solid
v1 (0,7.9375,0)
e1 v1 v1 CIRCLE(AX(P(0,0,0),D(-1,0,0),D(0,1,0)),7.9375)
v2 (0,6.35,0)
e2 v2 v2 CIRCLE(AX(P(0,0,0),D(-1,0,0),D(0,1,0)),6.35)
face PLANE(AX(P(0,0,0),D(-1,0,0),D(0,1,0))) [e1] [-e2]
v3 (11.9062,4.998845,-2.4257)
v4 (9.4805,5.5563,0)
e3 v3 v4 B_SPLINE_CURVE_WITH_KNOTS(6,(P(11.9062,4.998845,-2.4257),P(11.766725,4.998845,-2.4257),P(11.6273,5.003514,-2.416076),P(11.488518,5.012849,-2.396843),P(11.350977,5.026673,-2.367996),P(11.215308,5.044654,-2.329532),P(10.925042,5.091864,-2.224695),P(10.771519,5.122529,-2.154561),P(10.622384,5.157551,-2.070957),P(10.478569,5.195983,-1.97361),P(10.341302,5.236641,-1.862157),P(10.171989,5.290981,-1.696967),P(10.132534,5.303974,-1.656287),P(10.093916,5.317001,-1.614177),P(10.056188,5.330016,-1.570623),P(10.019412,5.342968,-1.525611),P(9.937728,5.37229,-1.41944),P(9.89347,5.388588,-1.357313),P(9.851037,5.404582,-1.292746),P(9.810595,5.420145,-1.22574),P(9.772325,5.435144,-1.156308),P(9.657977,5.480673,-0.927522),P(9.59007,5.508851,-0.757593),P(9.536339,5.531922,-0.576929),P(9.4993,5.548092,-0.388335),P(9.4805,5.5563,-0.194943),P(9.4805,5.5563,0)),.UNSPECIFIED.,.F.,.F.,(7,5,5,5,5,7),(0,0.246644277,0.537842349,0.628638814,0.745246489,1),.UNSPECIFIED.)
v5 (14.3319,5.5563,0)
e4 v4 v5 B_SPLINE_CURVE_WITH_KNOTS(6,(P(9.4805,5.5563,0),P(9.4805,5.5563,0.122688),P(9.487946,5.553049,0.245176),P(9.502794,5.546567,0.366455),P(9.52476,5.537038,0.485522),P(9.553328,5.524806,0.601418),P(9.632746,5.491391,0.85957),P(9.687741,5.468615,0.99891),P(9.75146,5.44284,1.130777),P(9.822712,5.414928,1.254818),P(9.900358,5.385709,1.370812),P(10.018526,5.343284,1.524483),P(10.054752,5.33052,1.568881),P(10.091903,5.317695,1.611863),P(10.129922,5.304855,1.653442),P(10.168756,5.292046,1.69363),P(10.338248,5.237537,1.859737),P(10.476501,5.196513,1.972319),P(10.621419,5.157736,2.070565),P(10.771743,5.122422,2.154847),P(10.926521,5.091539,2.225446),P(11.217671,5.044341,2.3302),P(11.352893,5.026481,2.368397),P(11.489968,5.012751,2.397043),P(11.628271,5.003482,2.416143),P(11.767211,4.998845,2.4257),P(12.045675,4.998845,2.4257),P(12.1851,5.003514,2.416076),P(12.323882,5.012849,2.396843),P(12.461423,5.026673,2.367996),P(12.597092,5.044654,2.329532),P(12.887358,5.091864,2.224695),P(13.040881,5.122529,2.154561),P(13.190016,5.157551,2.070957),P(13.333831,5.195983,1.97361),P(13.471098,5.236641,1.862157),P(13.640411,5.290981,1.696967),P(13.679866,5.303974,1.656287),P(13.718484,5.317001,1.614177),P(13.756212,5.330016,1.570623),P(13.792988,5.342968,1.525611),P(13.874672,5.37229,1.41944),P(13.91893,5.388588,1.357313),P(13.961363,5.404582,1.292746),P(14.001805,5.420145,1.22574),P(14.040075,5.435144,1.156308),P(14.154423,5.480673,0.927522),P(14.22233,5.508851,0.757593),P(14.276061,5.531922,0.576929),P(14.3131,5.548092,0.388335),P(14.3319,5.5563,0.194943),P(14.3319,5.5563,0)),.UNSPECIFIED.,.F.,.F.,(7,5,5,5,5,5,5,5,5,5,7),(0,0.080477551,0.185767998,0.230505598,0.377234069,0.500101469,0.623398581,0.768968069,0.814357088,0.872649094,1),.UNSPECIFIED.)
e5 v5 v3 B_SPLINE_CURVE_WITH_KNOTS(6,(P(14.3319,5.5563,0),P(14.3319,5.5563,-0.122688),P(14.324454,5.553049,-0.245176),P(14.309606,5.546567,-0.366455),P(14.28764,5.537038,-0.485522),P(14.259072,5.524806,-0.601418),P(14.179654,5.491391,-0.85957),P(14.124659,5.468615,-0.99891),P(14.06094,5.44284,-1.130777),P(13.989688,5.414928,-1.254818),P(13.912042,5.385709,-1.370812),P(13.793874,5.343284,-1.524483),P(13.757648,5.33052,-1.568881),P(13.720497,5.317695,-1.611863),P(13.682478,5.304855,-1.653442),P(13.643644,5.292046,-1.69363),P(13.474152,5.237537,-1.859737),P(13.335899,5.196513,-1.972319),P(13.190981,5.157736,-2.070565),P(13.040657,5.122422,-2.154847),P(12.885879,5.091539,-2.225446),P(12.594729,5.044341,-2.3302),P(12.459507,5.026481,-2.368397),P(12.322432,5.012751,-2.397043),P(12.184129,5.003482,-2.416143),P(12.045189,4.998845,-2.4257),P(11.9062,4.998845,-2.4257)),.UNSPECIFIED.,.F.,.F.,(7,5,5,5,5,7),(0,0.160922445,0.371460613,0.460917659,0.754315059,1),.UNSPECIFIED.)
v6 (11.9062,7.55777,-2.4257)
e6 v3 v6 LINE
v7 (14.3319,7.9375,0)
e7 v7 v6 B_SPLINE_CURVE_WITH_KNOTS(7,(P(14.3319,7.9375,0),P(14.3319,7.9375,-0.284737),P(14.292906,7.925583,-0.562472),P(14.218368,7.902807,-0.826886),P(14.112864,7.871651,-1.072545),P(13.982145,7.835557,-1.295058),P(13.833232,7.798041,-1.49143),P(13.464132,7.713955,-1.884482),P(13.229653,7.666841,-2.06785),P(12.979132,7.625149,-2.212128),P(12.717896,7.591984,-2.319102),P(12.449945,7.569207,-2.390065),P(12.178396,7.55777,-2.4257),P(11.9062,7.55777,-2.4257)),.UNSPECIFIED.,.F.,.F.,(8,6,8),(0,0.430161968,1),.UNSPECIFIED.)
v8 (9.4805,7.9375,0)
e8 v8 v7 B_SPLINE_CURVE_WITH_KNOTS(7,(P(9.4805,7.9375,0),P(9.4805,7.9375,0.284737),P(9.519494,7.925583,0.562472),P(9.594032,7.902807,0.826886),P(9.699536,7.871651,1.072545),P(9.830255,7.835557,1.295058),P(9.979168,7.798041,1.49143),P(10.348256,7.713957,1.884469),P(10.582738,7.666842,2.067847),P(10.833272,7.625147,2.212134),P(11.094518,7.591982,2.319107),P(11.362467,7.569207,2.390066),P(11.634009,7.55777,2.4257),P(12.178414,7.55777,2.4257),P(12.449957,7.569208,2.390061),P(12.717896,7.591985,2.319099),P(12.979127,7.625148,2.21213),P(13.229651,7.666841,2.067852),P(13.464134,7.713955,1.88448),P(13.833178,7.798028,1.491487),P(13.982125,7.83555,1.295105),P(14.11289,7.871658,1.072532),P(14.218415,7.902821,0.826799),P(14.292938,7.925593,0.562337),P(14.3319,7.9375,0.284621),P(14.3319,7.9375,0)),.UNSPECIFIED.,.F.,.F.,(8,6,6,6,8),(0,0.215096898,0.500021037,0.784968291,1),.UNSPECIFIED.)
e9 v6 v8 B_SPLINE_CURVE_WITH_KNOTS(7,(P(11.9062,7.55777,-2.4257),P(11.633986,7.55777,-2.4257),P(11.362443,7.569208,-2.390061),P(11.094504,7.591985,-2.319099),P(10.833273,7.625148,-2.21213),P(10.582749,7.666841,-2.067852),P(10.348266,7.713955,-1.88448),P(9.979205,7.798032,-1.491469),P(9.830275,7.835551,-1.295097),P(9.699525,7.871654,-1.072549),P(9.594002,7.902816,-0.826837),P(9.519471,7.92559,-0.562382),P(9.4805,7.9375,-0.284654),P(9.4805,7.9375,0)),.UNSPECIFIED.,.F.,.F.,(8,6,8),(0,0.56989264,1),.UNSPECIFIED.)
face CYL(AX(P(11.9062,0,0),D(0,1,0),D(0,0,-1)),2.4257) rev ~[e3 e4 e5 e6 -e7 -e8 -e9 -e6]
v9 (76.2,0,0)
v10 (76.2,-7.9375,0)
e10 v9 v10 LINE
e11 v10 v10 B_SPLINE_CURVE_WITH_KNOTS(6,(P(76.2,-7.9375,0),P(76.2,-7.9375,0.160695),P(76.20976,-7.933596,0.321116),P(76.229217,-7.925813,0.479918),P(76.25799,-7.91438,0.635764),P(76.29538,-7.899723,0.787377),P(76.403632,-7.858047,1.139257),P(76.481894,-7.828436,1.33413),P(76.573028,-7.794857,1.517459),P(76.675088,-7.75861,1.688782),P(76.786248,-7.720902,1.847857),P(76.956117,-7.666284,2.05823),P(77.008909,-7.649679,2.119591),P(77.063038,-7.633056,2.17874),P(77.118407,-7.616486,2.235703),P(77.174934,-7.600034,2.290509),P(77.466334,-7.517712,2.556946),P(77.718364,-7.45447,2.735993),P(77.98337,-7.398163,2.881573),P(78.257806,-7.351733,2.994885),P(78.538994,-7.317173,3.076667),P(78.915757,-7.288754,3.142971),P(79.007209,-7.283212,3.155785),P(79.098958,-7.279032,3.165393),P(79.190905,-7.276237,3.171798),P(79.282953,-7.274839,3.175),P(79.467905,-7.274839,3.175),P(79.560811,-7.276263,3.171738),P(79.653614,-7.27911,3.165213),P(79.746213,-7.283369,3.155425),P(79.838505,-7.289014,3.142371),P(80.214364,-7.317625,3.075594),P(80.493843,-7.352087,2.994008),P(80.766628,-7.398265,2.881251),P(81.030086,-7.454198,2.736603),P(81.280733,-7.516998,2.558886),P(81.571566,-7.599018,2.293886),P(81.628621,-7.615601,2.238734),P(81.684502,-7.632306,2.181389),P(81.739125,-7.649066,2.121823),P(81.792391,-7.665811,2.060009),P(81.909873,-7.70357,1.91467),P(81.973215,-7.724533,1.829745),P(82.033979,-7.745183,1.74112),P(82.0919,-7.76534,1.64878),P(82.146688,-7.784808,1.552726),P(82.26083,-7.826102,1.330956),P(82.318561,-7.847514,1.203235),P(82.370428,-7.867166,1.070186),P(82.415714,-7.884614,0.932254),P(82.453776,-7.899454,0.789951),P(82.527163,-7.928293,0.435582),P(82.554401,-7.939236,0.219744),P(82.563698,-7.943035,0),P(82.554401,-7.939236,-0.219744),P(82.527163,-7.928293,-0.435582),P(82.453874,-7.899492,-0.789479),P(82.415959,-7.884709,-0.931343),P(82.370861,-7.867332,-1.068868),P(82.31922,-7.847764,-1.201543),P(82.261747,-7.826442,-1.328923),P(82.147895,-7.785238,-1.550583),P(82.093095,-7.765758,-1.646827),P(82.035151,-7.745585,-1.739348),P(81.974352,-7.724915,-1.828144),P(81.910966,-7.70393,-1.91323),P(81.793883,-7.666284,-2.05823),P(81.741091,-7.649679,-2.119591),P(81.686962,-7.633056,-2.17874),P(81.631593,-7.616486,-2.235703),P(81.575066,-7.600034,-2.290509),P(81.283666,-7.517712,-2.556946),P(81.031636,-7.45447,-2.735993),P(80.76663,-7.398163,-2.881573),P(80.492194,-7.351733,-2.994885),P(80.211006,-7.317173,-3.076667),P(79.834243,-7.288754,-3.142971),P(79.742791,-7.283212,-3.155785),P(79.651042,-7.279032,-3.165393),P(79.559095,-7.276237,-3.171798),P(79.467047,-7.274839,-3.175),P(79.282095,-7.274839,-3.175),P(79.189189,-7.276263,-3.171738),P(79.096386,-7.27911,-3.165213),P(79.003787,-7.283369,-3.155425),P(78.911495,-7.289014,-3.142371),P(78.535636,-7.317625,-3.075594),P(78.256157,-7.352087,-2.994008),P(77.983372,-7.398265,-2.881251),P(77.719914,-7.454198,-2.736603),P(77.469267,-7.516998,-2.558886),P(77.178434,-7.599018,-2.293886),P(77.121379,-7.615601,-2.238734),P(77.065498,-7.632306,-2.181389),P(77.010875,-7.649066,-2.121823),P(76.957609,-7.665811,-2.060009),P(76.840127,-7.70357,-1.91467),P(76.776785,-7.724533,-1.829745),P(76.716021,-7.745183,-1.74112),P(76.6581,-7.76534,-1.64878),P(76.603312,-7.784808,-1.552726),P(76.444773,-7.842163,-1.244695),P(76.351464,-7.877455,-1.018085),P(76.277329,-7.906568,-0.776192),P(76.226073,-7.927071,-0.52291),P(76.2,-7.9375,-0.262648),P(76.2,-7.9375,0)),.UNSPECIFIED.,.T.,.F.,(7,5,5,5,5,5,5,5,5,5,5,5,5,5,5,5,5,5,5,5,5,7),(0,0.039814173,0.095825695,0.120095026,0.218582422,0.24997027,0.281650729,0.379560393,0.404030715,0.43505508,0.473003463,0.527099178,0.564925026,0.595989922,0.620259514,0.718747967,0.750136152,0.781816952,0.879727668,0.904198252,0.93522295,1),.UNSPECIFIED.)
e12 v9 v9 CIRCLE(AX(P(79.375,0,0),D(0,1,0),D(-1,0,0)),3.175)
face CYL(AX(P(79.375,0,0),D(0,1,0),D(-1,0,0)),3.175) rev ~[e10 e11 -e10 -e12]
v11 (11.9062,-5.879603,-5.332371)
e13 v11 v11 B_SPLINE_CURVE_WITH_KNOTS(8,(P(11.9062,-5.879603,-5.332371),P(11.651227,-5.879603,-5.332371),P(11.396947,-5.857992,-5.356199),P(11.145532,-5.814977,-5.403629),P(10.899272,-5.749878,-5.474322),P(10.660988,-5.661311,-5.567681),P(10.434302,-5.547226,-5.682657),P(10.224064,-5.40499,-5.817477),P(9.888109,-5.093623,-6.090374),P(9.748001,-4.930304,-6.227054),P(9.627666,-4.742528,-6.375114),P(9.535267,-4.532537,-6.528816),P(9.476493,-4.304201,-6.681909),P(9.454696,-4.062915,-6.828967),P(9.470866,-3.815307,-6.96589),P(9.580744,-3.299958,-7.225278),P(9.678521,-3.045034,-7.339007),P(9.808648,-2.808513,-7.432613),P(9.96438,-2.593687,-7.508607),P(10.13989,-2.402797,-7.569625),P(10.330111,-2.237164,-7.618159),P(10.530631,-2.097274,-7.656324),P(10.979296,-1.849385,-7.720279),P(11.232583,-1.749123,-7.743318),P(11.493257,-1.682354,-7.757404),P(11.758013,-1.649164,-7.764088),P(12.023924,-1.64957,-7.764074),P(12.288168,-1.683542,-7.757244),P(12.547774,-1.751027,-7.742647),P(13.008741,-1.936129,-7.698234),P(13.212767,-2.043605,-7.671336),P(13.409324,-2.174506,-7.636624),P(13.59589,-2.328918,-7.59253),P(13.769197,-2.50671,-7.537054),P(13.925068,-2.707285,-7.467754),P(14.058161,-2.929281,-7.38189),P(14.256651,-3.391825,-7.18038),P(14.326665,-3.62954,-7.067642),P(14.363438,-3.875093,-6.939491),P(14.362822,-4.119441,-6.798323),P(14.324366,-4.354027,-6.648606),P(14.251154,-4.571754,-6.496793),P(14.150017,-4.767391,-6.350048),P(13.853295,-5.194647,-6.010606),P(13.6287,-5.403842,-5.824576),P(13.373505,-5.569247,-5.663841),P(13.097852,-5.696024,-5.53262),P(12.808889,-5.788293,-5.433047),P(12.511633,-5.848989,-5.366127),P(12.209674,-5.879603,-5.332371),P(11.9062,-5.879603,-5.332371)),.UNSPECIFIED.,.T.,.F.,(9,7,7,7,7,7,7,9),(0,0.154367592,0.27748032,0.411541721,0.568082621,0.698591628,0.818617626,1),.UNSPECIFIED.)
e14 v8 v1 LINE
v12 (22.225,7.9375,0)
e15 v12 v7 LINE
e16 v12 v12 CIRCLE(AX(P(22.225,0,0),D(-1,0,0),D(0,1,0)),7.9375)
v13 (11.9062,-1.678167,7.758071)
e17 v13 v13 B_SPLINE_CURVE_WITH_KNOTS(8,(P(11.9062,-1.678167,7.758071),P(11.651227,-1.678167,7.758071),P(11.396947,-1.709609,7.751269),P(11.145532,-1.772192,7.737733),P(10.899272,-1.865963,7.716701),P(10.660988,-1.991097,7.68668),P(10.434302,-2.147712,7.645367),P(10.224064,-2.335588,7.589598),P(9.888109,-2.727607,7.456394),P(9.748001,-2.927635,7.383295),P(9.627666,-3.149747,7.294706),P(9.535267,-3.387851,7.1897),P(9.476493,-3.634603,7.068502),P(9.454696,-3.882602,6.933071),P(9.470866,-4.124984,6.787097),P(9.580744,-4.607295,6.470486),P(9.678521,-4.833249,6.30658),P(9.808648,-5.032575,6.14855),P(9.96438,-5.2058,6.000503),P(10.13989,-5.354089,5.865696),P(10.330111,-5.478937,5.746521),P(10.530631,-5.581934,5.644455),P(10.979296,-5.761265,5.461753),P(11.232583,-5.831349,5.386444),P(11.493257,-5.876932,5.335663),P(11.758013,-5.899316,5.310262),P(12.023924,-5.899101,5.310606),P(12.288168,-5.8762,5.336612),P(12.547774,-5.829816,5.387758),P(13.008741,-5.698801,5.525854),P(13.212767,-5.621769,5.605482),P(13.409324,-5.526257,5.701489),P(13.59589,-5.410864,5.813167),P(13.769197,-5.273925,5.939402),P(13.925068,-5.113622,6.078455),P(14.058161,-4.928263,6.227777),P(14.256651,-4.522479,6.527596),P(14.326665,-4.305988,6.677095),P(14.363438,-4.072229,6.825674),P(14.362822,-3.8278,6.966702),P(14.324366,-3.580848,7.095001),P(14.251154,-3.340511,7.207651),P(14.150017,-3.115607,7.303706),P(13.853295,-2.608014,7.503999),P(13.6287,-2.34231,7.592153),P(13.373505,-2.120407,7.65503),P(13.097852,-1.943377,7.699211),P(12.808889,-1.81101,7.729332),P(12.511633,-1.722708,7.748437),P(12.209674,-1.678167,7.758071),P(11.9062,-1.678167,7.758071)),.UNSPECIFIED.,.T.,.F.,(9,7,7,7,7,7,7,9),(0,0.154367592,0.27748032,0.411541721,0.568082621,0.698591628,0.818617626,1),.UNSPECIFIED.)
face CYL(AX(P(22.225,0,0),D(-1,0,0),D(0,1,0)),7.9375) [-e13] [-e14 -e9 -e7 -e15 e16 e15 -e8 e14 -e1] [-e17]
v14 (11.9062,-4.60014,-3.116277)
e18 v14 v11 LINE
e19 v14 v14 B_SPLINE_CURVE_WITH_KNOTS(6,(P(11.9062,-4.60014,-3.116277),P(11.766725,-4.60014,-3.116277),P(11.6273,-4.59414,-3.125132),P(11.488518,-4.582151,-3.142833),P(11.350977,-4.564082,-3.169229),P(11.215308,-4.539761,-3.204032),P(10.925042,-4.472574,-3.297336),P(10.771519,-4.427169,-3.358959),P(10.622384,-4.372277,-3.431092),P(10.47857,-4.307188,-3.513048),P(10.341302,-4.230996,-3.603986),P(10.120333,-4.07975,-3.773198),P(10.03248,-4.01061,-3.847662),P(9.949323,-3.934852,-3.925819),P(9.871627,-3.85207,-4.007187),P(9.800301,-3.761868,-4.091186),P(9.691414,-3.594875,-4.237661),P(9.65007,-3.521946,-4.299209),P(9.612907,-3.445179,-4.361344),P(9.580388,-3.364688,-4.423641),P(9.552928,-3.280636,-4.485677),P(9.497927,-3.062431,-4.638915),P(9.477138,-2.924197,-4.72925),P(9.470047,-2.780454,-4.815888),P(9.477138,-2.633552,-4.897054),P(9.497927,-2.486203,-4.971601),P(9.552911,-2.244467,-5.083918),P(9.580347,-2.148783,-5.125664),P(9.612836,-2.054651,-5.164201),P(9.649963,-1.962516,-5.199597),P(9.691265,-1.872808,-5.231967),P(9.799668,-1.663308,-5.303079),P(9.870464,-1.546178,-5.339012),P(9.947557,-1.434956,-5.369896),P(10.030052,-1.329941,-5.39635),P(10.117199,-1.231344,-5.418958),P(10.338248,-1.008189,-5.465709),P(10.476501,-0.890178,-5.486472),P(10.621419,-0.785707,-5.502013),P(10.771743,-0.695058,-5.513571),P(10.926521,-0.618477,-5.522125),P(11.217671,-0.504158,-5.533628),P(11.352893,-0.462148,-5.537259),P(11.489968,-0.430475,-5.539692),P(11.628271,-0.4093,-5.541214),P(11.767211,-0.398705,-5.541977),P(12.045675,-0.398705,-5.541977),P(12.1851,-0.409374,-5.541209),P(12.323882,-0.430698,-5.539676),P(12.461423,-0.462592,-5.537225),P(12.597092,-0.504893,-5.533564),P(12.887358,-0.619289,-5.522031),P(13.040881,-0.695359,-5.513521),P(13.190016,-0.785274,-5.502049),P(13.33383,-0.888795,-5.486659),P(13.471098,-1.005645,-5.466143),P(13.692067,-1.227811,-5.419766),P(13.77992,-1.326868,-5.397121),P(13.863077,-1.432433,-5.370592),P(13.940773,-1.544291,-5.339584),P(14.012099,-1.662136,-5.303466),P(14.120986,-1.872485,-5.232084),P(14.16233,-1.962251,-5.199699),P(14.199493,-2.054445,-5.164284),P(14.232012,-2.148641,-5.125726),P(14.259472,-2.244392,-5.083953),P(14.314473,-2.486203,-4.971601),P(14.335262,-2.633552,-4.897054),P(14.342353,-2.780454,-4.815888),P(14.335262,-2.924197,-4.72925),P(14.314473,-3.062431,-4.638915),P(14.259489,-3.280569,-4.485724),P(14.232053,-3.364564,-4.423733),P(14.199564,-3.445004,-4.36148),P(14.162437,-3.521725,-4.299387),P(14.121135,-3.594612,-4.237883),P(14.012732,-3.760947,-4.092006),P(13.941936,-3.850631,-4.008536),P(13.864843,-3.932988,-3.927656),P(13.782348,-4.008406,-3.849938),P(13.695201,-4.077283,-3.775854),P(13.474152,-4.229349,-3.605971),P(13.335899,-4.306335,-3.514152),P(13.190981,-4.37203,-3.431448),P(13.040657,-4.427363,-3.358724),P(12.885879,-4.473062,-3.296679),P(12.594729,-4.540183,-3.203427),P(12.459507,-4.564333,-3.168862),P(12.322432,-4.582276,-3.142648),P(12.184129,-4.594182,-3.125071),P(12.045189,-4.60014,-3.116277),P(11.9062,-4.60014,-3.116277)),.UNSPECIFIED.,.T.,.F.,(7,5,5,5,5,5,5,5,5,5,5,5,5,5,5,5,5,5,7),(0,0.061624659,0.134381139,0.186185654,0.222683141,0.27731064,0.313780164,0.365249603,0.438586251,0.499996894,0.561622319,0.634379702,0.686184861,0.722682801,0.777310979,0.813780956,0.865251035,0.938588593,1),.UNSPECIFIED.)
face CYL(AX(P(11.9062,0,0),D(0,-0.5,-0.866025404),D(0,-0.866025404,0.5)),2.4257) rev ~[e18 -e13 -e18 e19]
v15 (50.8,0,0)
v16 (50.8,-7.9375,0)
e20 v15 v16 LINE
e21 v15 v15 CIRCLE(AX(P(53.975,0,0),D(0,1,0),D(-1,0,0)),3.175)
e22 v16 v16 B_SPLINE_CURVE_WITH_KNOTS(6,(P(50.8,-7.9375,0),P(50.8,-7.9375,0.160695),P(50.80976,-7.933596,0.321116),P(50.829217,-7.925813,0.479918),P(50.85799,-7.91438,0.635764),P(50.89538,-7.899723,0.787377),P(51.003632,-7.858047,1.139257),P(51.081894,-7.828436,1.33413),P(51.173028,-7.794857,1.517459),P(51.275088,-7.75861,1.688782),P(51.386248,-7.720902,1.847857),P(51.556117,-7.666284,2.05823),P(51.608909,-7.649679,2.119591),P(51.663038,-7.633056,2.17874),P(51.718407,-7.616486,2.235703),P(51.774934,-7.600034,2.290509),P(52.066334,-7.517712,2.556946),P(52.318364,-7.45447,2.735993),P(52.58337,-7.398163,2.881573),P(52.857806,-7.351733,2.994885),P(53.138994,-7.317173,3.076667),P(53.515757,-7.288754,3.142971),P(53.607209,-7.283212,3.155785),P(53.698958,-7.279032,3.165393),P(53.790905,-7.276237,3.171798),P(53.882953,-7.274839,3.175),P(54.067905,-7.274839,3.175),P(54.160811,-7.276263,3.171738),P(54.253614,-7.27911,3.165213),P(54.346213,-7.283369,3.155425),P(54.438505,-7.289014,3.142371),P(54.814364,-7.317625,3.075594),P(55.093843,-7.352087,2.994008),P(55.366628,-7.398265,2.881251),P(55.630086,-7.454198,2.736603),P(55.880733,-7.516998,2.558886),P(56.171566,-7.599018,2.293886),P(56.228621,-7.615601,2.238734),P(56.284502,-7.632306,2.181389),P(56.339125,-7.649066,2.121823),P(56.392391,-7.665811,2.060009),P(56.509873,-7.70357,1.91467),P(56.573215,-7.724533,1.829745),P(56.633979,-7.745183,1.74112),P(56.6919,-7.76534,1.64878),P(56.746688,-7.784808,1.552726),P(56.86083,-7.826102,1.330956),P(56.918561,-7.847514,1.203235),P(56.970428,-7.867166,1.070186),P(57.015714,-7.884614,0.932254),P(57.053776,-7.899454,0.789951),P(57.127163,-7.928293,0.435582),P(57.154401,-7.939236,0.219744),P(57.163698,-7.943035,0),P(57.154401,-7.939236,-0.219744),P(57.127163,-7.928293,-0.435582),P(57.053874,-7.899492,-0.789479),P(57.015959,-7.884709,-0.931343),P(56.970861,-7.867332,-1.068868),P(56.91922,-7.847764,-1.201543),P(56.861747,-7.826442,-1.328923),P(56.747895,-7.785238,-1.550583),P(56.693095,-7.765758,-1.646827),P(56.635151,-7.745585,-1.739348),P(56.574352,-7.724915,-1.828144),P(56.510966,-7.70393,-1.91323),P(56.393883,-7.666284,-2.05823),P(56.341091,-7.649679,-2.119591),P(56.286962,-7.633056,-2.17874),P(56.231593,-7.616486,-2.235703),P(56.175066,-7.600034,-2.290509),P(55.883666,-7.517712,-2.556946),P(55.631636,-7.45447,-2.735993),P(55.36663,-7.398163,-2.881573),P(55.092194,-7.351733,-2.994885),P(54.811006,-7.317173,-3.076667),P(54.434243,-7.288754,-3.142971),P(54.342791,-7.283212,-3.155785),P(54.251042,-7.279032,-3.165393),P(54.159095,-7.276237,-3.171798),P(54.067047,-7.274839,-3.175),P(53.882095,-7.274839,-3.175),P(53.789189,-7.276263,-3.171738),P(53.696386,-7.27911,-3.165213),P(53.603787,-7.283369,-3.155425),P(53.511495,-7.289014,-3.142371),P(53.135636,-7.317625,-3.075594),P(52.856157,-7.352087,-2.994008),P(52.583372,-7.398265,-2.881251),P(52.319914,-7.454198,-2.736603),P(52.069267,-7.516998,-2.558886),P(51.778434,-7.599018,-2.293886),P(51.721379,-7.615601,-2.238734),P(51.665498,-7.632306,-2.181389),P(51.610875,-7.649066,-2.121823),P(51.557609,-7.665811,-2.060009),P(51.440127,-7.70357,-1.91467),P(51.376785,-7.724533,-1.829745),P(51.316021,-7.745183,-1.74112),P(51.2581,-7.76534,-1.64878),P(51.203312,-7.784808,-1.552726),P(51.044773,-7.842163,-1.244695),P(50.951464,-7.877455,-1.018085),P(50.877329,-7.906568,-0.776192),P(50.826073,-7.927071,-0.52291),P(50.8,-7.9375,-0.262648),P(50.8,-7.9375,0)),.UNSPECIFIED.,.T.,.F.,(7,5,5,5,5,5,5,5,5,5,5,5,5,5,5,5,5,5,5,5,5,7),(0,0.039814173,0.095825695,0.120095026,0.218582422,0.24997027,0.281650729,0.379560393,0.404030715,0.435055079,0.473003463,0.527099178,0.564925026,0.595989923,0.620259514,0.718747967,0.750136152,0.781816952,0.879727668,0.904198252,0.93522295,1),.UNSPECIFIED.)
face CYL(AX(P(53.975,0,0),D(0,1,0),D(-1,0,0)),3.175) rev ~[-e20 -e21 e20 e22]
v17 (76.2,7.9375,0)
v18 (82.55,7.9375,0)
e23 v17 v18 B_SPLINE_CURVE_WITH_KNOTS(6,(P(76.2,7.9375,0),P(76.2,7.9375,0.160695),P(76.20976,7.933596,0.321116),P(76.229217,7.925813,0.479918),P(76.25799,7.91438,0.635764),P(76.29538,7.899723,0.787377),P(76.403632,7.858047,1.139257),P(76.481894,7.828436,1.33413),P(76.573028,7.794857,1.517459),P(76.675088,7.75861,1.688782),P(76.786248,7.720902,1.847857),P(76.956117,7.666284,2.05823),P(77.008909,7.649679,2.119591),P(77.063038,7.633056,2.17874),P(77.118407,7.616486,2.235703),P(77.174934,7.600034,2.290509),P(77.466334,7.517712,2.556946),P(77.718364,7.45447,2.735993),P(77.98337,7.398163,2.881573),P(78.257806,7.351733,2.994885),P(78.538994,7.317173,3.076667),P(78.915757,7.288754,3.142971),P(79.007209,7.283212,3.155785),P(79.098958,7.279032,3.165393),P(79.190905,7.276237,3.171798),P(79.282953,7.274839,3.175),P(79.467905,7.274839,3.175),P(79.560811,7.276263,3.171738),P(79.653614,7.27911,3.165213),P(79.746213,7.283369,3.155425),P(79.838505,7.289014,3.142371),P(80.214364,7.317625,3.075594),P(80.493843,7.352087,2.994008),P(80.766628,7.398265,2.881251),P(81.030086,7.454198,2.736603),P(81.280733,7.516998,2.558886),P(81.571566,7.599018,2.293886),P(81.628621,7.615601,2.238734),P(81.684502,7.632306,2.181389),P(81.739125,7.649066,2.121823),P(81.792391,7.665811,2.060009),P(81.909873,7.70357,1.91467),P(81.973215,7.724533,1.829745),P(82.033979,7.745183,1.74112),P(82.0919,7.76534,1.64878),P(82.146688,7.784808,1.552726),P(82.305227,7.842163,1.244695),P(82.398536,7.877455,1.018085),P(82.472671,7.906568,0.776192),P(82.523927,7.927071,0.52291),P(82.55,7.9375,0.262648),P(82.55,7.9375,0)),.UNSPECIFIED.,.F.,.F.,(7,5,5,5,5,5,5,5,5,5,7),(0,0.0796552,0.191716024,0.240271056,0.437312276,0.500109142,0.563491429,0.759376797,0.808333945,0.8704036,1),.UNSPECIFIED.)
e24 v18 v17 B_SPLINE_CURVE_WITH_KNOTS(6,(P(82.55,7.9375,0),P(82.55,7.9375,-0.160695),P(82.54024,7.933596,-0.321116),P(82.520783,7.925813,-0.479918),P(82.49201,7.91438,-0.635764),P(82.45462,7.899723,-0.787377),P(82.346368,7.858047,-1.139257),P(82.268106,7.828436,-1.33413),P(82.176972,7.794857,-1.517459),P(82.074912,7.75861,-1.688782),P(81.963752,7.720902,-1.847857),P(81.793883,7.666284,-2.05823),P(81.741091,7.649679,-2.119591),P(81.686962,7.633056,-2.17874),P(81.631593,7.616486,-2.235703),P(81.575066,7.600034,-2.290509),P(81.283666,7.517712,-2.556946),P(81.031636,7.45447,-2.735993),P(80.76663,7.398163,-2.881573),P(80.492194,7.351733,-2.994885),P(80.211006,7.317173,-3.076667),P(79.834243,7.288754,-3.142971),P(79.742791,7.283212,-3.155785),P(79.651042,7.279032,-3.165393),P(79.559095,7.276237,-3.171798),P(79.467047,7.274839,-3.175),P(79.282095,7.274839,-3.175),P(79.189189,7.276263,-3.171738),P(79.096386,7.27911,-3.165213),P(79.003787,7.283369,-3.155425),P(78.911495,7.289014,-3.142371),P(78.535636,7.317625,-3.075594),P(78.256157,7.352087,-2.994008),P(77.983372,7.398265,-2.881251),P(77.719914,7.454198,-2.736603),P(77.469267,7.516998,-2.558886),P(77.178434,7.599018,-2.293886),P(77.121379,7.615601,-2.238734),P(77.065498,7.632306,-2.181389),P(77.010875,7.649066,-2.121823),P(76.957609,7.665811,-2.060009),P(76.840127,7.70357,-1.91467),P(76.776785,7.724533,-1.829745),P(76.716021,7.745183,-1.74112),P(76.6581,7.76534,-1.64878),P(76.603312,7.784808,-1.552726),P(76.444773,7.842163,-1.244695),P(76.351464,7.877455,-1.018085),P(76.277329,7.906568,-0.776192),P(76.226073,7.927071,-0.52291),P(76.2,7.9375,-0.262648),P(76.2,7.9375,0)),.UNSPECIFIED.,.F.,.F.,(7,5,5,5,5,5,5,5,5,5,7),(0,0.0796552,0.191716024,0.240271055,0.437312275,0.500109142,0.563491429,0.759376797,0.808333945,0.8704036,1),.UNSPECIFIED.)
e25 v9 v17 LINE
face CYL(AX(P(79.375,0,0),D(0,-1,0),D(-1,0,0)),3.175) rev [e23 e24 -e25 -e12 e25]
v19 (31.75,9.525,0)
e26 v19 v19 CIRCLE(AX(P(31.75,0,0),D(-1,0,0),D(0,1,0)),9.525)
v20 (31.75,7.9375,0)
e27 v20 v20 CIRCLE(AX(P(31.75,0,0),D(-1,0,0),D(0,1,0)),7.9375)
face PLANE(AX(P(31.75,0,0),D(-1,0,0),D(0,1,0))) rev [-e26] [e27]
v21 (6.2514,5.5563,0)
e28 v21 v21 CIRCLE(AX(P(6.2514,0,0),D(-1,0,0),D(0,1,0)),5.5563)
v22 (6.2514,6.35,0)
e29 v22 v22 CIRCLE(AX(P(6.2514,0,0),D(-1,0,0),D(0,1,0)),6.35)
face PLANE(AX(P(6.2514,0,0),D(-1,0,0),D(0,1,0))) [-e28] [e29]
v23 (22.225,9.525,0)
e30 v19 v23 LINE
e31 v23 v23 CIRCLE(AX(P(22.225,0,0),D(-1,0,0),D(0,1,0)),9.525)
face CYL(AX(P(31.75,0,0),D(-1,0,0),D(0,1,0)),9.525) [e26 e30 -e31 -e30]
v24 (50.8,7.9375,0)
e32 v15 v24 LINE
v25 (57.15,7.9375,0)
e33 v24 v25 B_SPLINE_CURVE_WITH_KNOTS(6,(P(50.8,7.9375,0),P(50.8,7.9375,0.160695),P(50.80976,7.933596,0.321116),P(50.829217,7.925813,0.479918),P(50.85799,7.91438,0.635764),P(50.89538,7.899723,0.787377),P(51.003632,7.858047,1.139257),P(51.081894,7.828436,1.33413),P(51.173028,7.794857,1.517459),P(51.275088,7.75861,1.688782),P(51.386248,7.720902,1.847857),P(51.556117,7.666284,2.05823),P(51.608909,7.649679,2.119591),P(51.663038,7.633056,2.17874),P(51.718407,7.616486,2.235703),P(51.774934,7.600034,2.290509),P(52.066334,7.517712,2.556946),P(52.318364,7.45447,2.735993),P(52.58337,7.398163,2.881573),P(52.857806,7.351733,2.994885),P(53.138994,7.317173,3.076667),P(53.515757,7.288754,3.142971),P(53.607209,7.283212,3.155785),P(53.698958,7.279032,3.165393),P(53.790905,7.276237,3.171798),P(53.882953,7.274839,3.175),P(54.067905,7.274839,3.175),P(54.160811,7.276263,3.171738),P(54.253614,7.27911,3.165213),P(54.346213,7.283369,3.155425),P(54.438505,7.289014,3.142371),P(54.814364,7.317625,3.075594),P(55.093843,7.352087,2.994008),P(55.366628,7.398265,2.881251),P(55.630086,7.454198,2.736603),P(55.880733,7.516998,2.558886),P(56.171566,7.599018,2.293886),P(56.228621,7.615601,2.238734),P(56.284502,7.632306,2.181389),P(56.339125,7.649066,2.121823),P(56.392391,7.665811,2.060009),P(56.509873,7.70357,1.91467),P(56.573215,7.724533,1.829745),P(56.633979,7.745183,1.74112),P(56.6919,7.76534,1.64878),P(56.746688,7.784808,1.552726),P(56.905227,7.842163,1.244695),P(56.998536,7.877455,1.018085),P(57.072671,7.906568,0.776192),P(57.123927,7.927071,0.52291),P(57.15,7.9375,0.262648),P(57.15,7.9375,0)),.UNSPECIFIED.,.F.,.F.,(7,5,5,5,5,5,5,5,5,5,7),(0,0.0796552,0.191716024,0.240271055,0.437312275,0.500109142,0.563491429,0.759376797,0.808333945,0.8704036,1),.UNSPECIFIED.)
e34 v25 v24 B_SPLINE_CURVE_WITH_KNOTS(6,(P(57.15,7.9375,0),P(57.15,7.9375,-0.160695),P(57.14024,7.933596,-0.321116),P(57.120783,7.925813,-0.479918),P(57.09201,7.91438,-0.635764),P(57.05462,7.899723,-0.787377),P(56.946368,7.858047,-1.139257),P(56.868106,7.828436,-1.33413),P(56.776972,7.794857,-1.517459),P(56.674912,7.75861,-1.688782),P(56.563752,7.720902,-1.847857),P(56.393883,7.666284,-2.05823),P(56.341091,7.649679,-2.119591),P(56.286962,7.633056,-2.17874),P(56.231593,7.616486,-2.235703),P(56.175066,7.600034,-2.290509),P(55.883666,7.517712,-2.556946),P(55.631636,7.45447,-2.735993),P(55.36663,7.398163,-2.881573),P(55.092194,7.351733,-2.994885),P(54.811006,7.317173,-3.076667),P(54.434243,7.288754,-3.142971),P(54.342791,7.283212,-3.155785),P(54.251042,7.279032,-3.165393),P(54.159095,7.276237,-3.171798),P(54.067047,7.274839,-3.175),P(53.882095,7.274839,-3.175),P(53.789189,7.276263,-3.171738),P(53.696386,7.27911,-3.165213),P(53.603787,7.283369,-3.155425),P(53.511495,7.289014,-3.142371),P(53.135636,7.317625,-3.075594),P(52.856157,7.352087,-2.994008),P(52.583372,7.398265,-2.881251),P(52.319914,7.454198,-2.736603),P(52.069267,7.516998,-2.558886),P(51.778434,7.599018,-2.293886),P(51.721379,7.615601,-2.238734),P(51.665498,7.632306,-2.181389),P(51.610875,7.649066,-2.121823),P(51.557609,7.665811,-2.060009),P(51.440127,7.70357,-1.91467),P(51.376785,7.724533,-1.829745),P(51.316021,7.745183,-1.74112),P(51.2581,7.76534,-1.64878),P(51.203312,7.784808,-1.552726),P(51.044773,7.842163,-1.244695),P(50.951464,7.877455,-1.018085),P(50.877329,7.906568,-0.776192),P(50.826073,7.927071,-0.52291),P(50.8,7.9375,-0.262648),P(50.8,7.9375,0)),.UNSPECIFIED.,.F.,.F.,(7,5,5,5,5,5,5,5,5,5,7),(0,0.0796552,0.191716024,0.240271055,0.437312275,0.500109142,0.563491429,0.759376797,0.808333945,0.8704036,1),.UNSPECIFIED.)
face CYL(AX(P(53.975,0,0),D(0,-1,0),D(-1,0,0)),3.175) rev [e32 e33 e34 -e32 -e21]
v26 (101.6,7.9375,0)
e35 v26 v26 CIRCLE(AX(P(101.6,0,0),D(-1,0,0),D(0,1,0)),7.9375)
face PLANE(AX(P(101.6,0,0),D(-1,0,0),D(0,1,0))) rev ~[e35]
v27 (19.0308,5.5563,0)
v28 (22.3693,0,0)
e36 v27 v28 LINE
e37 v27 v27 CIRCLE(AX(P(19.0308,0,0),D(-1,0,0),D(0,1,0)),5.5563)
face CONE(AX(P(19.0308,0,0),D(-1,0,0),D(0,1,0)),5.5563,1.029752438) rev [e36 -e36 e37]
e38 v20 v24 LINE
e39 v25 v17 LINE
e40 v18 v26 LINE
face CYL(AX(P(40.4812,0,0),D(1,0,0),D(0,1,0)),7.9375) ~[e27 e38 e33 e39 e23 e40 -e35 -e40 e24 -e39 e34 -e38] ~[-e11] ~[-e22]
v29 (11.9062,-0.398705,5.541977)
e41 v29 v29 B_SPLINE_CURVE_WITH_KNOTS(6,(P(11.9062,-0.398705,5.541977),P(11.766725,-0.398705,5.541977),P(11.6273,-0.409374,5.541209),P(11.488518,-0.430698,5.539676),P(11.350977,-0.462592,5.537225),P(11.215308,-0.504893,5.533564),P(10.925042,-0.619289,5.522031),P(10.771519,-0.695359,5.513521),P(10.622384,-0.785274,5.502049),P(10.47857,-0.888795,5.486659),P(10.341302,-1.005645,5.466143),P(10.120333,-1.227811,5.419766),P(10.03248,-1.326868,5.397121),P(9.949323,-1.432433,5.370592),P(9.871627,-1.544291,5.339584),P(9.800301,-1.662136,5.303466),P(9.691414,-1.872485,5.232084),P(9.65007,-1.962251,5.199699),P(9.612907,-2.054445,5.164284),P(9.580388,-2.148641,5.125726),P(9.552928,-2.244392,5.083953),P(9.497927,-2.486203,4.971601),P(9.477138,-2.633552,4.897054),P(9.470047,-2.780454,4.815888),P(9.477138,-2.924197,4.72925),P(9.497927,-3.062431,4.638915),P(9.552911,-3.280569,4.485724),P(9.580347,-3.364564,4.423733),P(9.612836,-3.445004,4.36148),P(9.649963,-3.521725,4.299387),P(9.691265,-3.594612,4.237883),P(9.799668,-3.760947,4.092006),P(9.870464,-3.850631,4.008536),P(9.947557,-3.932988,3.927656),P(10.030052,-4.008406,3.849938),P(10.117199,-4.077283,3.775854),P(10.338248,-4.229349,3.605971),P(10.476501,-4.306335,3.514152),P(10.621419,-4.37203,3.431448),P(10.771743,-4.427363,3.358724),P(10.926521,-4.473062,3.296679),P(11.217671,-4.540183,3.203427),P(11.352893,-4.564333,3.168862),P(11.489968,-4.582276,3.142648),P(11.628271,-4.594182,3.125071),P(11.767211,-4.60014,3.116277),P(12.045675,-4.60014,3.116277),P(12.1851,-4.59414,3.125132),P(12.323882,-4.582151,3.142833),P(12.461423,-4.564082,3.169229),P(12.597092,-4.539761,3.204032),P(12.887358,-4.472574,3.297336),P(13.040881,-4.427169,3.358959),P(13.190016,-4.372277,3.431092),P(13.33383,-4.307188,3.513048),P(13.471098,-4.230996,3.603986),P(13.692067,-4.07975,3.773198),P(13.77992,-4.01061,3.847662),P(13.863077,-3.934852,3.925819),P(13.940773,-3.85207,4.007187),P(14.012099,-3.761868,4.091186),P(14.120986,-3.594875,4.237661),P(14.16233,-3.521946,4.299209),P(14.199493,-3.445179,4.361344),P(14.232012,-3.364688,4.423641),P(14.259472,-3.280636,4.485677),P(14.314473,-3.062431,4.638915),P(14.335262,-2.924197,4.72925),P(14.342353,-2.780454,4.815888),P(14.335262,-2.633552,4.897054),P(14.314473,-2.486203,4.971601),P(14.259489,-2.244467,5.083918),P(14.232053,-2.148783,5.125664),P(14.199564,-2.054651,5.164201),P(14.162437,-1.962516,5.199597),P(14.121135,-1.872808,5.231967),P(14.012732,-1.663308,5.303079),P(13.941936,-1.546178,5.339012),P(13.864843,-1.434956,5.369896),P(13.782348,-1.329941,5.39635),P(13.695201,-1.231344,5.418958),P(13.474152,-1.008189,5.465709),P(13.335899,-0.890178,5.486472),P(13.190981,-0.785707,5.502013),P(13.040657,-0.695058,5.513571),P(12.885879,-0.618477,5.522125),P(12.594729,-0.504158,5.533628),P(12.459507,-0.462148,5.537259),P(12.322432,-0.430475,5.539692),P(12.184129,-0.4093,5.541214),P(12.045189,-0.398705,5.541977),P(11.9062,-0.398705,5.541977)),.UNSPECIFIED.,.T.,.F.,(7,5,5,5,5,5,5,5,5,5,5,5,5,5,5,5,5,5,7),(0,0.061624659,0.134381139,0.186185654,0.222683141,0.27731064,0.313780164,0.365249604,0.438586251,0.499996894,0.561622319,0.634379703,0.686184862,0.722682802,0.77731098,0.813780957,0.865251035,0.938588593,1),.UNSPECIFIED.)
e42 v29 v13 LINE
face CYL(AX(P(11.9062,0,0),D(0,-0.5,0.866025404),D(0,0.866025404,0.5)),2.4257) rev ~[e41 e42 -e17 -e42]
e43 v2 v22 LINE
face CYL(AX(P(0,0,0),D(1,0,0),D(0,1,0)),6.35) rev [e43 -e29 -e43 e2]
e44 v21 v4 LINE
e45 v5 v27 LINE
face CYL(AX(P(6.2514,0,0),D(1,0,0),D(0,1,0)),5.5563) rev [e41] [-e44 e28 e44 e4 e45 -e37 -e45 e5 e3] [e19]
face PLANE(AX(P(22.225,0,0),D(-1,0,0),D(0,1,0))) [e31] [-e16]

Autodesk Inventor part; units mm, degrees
ref_plane "YZ Plane" through (0, 0, 0) normal (1, 0, 0) x (0, 1, 0)
ref_plane "XZ Plane" through (0, 0, 0) normal (0, 1, 0) x (-1, 0, 0)
ref_plane "XY Plane" through (0, 0, 0) normal (0, 0, 1) x (1, 0, 0)
sketch "Sketch1" plane through (0, 0, 0) normal (0, 0, 1) x (1, 0, 0)
  line L0 (0, 0) -> (21.9725, 0)
  line L1 (40.4812, 0) -> (40.4812, 7.9375) construction
  line L2 (40.4812, 7.9375) -> (31.75, 7.9375)
  line L3 (0, 7.9375) -> (0, 6.35)
  line L4 (31.75, 0) -> (31.75, 7.9375) construction
  line L5 (31.75, 9.525) -> (22.225, 9.525)
  line L6 (22.225, 9.525) -> (22.225, 7.9375)
  line L7 (8.7312, 0) -> (8.7312, 17.4625) construction
  line L8 (8.7312, 17.4625) -> (0, 17.4625) construction
  line L9 (0, 17.4625) -> (0, 7.9375) construction
  line L10 (8.7312, 14.2875) -> (9.525, 14.2875) construction
  line L11 (9.525, 14.2875) -> (9.525, 7.9375) construction
  line L12 (9.525, 14.2875) -> (9.525, 27.94) construction
  line L13 (9.525, 27.94) -> (19.05, 27.94) construction
  line L14 (19.05, 27.94) -> (19.05, 7.9375) construction
  line L15 (22.225, 9.525) -> (22.225, 14.2875) construction
  line L16 (22.225, 14.2875) -> (21.4312, 14.2875) construction
  line L17 (21.4312, 14.2875) -> (21.4312, 7.9375) construction
  line L18 (21.4312, 14.2875) -> (21.4312, 17.4625) construction
  line L19 (21.4312, 17.4625) -> (14.2875, 17.4625) construction
  line L20 (14.2875, 17.4625) -> (14.2875, 0) construction
  line L21 (14.2875, 27.94) -> (14.2875, 17.4625) construction
  line L22 (14.1605, 27.94) -> (14.1605, 0) construction
  line L23 (11.9062, 27.94) -> (11.9062, 0) construction
  circle A0 centre (11.9062, 7.5565) radius 2.3813 construction
  line L24 (0, 5.5562) -> (6.2514, 5.5563) construction
  line L25 (0, 6.35) -> (6.2514, 6.35)
  line L26 (6.2514, 6.35) -> (6.2514, 5.5563)
  line L27 (6.2514, 5.5563) -> (6.2514, 0) construction
  line L28 (9.8391, 5.1753) -> (13.9734, 5.1753) construction
  line L29 (0, 3.175) -> (12.7284, 3.175)
  line L30 (6.2514, 5.5563) -> (19.0308, 5.5563)
  line L31 (0, 6.35) -> (0, 0) construction
  circle A1 centre (11.9062, 5.5562) radius 2.3813 construction
  circle A2 centre (11.9062, 5.8103) radius 2.3813 construction
  line L32 (14.2875, 8.1915) -> (9.525, 8.1915) construction
  line L33 (0, 3.175) -> (-5.4674, 3.175)
  line L34 (-5.4674, 3.175) -> (-5.4674, 2.3813)
  line L35 (-5.4674, 2.3813) -> (-10.4458, 2.3812)
  line L36 (-10.4458, 2.3812) -> (-10.4458, 0)
  line L37 (-10.4458, 0) -> (0, 0)
  line L38 (9.8391, 5.1753) -> (7.8389, 3.175) construction
  line L39 (12.7284, 3.175) -> (14.7286, 5.1753)
  line L40 (13.9734, 5.1753) -> (17.083, 0) construction
  line L41 (14.7286, 5.1753) -> (18.8629, 5.1753)
  line L42 (18.8629, 5.1753) -> (21.9725, 0)
  line L43 (19.0308, 5.5563) -> (22.3693, 0)
  line L44 (22.225, 5.5563) -> (31.75, 5.5563) construction
  line L45 (19.0308, 5.5563) -> (22.225, 5.5563) construction
  line L46 (22.225, 7.9375) -> (22.225, 0) construction
  line L47 (31.75, 7.9375) -> (31.75, 9.525)
  line L48 (31.75, 7.9375) -> (22.225, 7.9375) construction
  line L49 (22.225, 7.9375) -> (0, 7.9375)
  line L50 (31.75, 5.5563) -> (40.4812, 5.5563) construction
  line L51 (22.225, 0) -> (22.3693, 0) construction
  line L52 (22.3693, 0) -> (22.225, 0) construction
  line L53 (21.9725, 0) -> (22.3693, 0) construction
  line L54 (12.7284, 3.175) -> (40.4812, 3.175) construction
  line L55 (40.4812, 7.9375) -> (101.6, 7.9375)
  line L56 (101.6, 7.9375) -> (101.6, 0)
  line L57 (101.6, 0) -> (40.4812, 0)
  line L58 (22.3693, 0) -> (40.4812, 0)
  dimension "d0" = 7.9375
  dimension "d1" = 40.4813
  dimension "d2" = 9.525
  dimension "d3" = 8.7312
  dimension "d5" = 22.225
  dimension "d6" = 17.4625
  dimension "d7" = 8.7312
  dimension "d8" = 0.7937
  dimension "d9" = 14.2875
  dimension "d10" = 27.94
  dimension "d11" = 9.525
  dimension "d12" = 0.7937
  dimension "d14" = 7.1437
  dimension "d15" = 17.4625
  dimension "d16" = 0.127
  dimension "d17" = 4.7625
  dimension "d18" = 4.7625
  dimension "d19" = 5.5563
  dimension "d20" = 6.35
  dimension "d22" = 3.175
  dimension "d23" = 4.7625
  dimension "d24" = 4.7625
  dimension "d25" = 4.7625
  dimension "d26" = 0.254
  dimension "d27" = 2.0671
  dimension "d29" = 0.381
  dimension "d30" = 5.4673
  dimension "d31" = 4.9784
  dimension "d32" = 2.3813
  dimension "d33" = 45
  dimension "d34" = 45
  dimension "d35" = 0.0635
  dimension "d36" = 2.0671
  dimension "d37" = 59
  dimension "d38" = 4.1342
  dimension "d39" = 1.5875
  dimension "d40" = 0.3969
  dimension "d41" = 9.525
  dimension "d42" = 14.2875
  dimension "d43" = 61.1187
  dimension "d45" = 14.7287
  dimension "d46" = 9.8392
revolve "Revolution1" add sketch "Sketch1" angle 360 about axis through (101.6, 0, 0) along (-1, 0, 0) contours L55 L56 L57 L58 L43 L30 L26 L25 L3 L49 L6 L5 L47 L2
sketch "Sketch2" plane through (0, 0, 0) normal (0, 1, 0) x (-1, 0, 0)
  line L0 (-101.6, 7.9375) -> (-101.6, -7.9375) projected
  line L1 (-31.75, 7.9375) -> (-31.75, -7.9375) projected
  line L2 (-101.6, 0) -> (-53.975, 0) construction
  circle A0 centre (-79.375, 0) radius 3.175
  circle A1 centre (-53.975, 0) radius 3.175
  point P0 (0, 0)
  point P1 (-11.9062, 0)
  point P2 (-11.9062, 0)
  point P3 (-11.9062, 0)
  point P4 (-11.9062, 0)
  dimension "d59" = 25.4
  dimension "d60" = 22.225
  dimension "d61" = 6.35
  dimension "d62" = 6.35
hole "Hole1" at (11.9062, 0, 0) direction (0, 1, 0) diameter 4.8514 end through all
extrude "Extrusion1" cut sketch "Sketch2" along normal through all both and the other way through all
pattern_circular "Circular Pattern1" count 3 over 360 about axis through (-10, 0, 0) along (1, 0, 0) of "Hole1"
ref_plane "Work Plane1" through (14.7286, 0, 0) normal (-1, 0, 0) x (0, 0, 1)
ref_plane "Work Plane2" through (9.8391, 0, 0) normal (-1, 0, 0) x (0, 0, 1)
equation "\"d7\" = d3"
equation "\"d12\" = d8"
equation "\"d15\" = d6"
equation "\"d34\" = d33"
equation "\"d36\" = d27"
equation "\"d38\" = d27 + d36"
equation "\"d42\" = d9"
equation "\"d61\" = d62"
equation "\"d57\" = -d45"
equation "\"d58\" = -d46"
properties part number "Ball Shift"
